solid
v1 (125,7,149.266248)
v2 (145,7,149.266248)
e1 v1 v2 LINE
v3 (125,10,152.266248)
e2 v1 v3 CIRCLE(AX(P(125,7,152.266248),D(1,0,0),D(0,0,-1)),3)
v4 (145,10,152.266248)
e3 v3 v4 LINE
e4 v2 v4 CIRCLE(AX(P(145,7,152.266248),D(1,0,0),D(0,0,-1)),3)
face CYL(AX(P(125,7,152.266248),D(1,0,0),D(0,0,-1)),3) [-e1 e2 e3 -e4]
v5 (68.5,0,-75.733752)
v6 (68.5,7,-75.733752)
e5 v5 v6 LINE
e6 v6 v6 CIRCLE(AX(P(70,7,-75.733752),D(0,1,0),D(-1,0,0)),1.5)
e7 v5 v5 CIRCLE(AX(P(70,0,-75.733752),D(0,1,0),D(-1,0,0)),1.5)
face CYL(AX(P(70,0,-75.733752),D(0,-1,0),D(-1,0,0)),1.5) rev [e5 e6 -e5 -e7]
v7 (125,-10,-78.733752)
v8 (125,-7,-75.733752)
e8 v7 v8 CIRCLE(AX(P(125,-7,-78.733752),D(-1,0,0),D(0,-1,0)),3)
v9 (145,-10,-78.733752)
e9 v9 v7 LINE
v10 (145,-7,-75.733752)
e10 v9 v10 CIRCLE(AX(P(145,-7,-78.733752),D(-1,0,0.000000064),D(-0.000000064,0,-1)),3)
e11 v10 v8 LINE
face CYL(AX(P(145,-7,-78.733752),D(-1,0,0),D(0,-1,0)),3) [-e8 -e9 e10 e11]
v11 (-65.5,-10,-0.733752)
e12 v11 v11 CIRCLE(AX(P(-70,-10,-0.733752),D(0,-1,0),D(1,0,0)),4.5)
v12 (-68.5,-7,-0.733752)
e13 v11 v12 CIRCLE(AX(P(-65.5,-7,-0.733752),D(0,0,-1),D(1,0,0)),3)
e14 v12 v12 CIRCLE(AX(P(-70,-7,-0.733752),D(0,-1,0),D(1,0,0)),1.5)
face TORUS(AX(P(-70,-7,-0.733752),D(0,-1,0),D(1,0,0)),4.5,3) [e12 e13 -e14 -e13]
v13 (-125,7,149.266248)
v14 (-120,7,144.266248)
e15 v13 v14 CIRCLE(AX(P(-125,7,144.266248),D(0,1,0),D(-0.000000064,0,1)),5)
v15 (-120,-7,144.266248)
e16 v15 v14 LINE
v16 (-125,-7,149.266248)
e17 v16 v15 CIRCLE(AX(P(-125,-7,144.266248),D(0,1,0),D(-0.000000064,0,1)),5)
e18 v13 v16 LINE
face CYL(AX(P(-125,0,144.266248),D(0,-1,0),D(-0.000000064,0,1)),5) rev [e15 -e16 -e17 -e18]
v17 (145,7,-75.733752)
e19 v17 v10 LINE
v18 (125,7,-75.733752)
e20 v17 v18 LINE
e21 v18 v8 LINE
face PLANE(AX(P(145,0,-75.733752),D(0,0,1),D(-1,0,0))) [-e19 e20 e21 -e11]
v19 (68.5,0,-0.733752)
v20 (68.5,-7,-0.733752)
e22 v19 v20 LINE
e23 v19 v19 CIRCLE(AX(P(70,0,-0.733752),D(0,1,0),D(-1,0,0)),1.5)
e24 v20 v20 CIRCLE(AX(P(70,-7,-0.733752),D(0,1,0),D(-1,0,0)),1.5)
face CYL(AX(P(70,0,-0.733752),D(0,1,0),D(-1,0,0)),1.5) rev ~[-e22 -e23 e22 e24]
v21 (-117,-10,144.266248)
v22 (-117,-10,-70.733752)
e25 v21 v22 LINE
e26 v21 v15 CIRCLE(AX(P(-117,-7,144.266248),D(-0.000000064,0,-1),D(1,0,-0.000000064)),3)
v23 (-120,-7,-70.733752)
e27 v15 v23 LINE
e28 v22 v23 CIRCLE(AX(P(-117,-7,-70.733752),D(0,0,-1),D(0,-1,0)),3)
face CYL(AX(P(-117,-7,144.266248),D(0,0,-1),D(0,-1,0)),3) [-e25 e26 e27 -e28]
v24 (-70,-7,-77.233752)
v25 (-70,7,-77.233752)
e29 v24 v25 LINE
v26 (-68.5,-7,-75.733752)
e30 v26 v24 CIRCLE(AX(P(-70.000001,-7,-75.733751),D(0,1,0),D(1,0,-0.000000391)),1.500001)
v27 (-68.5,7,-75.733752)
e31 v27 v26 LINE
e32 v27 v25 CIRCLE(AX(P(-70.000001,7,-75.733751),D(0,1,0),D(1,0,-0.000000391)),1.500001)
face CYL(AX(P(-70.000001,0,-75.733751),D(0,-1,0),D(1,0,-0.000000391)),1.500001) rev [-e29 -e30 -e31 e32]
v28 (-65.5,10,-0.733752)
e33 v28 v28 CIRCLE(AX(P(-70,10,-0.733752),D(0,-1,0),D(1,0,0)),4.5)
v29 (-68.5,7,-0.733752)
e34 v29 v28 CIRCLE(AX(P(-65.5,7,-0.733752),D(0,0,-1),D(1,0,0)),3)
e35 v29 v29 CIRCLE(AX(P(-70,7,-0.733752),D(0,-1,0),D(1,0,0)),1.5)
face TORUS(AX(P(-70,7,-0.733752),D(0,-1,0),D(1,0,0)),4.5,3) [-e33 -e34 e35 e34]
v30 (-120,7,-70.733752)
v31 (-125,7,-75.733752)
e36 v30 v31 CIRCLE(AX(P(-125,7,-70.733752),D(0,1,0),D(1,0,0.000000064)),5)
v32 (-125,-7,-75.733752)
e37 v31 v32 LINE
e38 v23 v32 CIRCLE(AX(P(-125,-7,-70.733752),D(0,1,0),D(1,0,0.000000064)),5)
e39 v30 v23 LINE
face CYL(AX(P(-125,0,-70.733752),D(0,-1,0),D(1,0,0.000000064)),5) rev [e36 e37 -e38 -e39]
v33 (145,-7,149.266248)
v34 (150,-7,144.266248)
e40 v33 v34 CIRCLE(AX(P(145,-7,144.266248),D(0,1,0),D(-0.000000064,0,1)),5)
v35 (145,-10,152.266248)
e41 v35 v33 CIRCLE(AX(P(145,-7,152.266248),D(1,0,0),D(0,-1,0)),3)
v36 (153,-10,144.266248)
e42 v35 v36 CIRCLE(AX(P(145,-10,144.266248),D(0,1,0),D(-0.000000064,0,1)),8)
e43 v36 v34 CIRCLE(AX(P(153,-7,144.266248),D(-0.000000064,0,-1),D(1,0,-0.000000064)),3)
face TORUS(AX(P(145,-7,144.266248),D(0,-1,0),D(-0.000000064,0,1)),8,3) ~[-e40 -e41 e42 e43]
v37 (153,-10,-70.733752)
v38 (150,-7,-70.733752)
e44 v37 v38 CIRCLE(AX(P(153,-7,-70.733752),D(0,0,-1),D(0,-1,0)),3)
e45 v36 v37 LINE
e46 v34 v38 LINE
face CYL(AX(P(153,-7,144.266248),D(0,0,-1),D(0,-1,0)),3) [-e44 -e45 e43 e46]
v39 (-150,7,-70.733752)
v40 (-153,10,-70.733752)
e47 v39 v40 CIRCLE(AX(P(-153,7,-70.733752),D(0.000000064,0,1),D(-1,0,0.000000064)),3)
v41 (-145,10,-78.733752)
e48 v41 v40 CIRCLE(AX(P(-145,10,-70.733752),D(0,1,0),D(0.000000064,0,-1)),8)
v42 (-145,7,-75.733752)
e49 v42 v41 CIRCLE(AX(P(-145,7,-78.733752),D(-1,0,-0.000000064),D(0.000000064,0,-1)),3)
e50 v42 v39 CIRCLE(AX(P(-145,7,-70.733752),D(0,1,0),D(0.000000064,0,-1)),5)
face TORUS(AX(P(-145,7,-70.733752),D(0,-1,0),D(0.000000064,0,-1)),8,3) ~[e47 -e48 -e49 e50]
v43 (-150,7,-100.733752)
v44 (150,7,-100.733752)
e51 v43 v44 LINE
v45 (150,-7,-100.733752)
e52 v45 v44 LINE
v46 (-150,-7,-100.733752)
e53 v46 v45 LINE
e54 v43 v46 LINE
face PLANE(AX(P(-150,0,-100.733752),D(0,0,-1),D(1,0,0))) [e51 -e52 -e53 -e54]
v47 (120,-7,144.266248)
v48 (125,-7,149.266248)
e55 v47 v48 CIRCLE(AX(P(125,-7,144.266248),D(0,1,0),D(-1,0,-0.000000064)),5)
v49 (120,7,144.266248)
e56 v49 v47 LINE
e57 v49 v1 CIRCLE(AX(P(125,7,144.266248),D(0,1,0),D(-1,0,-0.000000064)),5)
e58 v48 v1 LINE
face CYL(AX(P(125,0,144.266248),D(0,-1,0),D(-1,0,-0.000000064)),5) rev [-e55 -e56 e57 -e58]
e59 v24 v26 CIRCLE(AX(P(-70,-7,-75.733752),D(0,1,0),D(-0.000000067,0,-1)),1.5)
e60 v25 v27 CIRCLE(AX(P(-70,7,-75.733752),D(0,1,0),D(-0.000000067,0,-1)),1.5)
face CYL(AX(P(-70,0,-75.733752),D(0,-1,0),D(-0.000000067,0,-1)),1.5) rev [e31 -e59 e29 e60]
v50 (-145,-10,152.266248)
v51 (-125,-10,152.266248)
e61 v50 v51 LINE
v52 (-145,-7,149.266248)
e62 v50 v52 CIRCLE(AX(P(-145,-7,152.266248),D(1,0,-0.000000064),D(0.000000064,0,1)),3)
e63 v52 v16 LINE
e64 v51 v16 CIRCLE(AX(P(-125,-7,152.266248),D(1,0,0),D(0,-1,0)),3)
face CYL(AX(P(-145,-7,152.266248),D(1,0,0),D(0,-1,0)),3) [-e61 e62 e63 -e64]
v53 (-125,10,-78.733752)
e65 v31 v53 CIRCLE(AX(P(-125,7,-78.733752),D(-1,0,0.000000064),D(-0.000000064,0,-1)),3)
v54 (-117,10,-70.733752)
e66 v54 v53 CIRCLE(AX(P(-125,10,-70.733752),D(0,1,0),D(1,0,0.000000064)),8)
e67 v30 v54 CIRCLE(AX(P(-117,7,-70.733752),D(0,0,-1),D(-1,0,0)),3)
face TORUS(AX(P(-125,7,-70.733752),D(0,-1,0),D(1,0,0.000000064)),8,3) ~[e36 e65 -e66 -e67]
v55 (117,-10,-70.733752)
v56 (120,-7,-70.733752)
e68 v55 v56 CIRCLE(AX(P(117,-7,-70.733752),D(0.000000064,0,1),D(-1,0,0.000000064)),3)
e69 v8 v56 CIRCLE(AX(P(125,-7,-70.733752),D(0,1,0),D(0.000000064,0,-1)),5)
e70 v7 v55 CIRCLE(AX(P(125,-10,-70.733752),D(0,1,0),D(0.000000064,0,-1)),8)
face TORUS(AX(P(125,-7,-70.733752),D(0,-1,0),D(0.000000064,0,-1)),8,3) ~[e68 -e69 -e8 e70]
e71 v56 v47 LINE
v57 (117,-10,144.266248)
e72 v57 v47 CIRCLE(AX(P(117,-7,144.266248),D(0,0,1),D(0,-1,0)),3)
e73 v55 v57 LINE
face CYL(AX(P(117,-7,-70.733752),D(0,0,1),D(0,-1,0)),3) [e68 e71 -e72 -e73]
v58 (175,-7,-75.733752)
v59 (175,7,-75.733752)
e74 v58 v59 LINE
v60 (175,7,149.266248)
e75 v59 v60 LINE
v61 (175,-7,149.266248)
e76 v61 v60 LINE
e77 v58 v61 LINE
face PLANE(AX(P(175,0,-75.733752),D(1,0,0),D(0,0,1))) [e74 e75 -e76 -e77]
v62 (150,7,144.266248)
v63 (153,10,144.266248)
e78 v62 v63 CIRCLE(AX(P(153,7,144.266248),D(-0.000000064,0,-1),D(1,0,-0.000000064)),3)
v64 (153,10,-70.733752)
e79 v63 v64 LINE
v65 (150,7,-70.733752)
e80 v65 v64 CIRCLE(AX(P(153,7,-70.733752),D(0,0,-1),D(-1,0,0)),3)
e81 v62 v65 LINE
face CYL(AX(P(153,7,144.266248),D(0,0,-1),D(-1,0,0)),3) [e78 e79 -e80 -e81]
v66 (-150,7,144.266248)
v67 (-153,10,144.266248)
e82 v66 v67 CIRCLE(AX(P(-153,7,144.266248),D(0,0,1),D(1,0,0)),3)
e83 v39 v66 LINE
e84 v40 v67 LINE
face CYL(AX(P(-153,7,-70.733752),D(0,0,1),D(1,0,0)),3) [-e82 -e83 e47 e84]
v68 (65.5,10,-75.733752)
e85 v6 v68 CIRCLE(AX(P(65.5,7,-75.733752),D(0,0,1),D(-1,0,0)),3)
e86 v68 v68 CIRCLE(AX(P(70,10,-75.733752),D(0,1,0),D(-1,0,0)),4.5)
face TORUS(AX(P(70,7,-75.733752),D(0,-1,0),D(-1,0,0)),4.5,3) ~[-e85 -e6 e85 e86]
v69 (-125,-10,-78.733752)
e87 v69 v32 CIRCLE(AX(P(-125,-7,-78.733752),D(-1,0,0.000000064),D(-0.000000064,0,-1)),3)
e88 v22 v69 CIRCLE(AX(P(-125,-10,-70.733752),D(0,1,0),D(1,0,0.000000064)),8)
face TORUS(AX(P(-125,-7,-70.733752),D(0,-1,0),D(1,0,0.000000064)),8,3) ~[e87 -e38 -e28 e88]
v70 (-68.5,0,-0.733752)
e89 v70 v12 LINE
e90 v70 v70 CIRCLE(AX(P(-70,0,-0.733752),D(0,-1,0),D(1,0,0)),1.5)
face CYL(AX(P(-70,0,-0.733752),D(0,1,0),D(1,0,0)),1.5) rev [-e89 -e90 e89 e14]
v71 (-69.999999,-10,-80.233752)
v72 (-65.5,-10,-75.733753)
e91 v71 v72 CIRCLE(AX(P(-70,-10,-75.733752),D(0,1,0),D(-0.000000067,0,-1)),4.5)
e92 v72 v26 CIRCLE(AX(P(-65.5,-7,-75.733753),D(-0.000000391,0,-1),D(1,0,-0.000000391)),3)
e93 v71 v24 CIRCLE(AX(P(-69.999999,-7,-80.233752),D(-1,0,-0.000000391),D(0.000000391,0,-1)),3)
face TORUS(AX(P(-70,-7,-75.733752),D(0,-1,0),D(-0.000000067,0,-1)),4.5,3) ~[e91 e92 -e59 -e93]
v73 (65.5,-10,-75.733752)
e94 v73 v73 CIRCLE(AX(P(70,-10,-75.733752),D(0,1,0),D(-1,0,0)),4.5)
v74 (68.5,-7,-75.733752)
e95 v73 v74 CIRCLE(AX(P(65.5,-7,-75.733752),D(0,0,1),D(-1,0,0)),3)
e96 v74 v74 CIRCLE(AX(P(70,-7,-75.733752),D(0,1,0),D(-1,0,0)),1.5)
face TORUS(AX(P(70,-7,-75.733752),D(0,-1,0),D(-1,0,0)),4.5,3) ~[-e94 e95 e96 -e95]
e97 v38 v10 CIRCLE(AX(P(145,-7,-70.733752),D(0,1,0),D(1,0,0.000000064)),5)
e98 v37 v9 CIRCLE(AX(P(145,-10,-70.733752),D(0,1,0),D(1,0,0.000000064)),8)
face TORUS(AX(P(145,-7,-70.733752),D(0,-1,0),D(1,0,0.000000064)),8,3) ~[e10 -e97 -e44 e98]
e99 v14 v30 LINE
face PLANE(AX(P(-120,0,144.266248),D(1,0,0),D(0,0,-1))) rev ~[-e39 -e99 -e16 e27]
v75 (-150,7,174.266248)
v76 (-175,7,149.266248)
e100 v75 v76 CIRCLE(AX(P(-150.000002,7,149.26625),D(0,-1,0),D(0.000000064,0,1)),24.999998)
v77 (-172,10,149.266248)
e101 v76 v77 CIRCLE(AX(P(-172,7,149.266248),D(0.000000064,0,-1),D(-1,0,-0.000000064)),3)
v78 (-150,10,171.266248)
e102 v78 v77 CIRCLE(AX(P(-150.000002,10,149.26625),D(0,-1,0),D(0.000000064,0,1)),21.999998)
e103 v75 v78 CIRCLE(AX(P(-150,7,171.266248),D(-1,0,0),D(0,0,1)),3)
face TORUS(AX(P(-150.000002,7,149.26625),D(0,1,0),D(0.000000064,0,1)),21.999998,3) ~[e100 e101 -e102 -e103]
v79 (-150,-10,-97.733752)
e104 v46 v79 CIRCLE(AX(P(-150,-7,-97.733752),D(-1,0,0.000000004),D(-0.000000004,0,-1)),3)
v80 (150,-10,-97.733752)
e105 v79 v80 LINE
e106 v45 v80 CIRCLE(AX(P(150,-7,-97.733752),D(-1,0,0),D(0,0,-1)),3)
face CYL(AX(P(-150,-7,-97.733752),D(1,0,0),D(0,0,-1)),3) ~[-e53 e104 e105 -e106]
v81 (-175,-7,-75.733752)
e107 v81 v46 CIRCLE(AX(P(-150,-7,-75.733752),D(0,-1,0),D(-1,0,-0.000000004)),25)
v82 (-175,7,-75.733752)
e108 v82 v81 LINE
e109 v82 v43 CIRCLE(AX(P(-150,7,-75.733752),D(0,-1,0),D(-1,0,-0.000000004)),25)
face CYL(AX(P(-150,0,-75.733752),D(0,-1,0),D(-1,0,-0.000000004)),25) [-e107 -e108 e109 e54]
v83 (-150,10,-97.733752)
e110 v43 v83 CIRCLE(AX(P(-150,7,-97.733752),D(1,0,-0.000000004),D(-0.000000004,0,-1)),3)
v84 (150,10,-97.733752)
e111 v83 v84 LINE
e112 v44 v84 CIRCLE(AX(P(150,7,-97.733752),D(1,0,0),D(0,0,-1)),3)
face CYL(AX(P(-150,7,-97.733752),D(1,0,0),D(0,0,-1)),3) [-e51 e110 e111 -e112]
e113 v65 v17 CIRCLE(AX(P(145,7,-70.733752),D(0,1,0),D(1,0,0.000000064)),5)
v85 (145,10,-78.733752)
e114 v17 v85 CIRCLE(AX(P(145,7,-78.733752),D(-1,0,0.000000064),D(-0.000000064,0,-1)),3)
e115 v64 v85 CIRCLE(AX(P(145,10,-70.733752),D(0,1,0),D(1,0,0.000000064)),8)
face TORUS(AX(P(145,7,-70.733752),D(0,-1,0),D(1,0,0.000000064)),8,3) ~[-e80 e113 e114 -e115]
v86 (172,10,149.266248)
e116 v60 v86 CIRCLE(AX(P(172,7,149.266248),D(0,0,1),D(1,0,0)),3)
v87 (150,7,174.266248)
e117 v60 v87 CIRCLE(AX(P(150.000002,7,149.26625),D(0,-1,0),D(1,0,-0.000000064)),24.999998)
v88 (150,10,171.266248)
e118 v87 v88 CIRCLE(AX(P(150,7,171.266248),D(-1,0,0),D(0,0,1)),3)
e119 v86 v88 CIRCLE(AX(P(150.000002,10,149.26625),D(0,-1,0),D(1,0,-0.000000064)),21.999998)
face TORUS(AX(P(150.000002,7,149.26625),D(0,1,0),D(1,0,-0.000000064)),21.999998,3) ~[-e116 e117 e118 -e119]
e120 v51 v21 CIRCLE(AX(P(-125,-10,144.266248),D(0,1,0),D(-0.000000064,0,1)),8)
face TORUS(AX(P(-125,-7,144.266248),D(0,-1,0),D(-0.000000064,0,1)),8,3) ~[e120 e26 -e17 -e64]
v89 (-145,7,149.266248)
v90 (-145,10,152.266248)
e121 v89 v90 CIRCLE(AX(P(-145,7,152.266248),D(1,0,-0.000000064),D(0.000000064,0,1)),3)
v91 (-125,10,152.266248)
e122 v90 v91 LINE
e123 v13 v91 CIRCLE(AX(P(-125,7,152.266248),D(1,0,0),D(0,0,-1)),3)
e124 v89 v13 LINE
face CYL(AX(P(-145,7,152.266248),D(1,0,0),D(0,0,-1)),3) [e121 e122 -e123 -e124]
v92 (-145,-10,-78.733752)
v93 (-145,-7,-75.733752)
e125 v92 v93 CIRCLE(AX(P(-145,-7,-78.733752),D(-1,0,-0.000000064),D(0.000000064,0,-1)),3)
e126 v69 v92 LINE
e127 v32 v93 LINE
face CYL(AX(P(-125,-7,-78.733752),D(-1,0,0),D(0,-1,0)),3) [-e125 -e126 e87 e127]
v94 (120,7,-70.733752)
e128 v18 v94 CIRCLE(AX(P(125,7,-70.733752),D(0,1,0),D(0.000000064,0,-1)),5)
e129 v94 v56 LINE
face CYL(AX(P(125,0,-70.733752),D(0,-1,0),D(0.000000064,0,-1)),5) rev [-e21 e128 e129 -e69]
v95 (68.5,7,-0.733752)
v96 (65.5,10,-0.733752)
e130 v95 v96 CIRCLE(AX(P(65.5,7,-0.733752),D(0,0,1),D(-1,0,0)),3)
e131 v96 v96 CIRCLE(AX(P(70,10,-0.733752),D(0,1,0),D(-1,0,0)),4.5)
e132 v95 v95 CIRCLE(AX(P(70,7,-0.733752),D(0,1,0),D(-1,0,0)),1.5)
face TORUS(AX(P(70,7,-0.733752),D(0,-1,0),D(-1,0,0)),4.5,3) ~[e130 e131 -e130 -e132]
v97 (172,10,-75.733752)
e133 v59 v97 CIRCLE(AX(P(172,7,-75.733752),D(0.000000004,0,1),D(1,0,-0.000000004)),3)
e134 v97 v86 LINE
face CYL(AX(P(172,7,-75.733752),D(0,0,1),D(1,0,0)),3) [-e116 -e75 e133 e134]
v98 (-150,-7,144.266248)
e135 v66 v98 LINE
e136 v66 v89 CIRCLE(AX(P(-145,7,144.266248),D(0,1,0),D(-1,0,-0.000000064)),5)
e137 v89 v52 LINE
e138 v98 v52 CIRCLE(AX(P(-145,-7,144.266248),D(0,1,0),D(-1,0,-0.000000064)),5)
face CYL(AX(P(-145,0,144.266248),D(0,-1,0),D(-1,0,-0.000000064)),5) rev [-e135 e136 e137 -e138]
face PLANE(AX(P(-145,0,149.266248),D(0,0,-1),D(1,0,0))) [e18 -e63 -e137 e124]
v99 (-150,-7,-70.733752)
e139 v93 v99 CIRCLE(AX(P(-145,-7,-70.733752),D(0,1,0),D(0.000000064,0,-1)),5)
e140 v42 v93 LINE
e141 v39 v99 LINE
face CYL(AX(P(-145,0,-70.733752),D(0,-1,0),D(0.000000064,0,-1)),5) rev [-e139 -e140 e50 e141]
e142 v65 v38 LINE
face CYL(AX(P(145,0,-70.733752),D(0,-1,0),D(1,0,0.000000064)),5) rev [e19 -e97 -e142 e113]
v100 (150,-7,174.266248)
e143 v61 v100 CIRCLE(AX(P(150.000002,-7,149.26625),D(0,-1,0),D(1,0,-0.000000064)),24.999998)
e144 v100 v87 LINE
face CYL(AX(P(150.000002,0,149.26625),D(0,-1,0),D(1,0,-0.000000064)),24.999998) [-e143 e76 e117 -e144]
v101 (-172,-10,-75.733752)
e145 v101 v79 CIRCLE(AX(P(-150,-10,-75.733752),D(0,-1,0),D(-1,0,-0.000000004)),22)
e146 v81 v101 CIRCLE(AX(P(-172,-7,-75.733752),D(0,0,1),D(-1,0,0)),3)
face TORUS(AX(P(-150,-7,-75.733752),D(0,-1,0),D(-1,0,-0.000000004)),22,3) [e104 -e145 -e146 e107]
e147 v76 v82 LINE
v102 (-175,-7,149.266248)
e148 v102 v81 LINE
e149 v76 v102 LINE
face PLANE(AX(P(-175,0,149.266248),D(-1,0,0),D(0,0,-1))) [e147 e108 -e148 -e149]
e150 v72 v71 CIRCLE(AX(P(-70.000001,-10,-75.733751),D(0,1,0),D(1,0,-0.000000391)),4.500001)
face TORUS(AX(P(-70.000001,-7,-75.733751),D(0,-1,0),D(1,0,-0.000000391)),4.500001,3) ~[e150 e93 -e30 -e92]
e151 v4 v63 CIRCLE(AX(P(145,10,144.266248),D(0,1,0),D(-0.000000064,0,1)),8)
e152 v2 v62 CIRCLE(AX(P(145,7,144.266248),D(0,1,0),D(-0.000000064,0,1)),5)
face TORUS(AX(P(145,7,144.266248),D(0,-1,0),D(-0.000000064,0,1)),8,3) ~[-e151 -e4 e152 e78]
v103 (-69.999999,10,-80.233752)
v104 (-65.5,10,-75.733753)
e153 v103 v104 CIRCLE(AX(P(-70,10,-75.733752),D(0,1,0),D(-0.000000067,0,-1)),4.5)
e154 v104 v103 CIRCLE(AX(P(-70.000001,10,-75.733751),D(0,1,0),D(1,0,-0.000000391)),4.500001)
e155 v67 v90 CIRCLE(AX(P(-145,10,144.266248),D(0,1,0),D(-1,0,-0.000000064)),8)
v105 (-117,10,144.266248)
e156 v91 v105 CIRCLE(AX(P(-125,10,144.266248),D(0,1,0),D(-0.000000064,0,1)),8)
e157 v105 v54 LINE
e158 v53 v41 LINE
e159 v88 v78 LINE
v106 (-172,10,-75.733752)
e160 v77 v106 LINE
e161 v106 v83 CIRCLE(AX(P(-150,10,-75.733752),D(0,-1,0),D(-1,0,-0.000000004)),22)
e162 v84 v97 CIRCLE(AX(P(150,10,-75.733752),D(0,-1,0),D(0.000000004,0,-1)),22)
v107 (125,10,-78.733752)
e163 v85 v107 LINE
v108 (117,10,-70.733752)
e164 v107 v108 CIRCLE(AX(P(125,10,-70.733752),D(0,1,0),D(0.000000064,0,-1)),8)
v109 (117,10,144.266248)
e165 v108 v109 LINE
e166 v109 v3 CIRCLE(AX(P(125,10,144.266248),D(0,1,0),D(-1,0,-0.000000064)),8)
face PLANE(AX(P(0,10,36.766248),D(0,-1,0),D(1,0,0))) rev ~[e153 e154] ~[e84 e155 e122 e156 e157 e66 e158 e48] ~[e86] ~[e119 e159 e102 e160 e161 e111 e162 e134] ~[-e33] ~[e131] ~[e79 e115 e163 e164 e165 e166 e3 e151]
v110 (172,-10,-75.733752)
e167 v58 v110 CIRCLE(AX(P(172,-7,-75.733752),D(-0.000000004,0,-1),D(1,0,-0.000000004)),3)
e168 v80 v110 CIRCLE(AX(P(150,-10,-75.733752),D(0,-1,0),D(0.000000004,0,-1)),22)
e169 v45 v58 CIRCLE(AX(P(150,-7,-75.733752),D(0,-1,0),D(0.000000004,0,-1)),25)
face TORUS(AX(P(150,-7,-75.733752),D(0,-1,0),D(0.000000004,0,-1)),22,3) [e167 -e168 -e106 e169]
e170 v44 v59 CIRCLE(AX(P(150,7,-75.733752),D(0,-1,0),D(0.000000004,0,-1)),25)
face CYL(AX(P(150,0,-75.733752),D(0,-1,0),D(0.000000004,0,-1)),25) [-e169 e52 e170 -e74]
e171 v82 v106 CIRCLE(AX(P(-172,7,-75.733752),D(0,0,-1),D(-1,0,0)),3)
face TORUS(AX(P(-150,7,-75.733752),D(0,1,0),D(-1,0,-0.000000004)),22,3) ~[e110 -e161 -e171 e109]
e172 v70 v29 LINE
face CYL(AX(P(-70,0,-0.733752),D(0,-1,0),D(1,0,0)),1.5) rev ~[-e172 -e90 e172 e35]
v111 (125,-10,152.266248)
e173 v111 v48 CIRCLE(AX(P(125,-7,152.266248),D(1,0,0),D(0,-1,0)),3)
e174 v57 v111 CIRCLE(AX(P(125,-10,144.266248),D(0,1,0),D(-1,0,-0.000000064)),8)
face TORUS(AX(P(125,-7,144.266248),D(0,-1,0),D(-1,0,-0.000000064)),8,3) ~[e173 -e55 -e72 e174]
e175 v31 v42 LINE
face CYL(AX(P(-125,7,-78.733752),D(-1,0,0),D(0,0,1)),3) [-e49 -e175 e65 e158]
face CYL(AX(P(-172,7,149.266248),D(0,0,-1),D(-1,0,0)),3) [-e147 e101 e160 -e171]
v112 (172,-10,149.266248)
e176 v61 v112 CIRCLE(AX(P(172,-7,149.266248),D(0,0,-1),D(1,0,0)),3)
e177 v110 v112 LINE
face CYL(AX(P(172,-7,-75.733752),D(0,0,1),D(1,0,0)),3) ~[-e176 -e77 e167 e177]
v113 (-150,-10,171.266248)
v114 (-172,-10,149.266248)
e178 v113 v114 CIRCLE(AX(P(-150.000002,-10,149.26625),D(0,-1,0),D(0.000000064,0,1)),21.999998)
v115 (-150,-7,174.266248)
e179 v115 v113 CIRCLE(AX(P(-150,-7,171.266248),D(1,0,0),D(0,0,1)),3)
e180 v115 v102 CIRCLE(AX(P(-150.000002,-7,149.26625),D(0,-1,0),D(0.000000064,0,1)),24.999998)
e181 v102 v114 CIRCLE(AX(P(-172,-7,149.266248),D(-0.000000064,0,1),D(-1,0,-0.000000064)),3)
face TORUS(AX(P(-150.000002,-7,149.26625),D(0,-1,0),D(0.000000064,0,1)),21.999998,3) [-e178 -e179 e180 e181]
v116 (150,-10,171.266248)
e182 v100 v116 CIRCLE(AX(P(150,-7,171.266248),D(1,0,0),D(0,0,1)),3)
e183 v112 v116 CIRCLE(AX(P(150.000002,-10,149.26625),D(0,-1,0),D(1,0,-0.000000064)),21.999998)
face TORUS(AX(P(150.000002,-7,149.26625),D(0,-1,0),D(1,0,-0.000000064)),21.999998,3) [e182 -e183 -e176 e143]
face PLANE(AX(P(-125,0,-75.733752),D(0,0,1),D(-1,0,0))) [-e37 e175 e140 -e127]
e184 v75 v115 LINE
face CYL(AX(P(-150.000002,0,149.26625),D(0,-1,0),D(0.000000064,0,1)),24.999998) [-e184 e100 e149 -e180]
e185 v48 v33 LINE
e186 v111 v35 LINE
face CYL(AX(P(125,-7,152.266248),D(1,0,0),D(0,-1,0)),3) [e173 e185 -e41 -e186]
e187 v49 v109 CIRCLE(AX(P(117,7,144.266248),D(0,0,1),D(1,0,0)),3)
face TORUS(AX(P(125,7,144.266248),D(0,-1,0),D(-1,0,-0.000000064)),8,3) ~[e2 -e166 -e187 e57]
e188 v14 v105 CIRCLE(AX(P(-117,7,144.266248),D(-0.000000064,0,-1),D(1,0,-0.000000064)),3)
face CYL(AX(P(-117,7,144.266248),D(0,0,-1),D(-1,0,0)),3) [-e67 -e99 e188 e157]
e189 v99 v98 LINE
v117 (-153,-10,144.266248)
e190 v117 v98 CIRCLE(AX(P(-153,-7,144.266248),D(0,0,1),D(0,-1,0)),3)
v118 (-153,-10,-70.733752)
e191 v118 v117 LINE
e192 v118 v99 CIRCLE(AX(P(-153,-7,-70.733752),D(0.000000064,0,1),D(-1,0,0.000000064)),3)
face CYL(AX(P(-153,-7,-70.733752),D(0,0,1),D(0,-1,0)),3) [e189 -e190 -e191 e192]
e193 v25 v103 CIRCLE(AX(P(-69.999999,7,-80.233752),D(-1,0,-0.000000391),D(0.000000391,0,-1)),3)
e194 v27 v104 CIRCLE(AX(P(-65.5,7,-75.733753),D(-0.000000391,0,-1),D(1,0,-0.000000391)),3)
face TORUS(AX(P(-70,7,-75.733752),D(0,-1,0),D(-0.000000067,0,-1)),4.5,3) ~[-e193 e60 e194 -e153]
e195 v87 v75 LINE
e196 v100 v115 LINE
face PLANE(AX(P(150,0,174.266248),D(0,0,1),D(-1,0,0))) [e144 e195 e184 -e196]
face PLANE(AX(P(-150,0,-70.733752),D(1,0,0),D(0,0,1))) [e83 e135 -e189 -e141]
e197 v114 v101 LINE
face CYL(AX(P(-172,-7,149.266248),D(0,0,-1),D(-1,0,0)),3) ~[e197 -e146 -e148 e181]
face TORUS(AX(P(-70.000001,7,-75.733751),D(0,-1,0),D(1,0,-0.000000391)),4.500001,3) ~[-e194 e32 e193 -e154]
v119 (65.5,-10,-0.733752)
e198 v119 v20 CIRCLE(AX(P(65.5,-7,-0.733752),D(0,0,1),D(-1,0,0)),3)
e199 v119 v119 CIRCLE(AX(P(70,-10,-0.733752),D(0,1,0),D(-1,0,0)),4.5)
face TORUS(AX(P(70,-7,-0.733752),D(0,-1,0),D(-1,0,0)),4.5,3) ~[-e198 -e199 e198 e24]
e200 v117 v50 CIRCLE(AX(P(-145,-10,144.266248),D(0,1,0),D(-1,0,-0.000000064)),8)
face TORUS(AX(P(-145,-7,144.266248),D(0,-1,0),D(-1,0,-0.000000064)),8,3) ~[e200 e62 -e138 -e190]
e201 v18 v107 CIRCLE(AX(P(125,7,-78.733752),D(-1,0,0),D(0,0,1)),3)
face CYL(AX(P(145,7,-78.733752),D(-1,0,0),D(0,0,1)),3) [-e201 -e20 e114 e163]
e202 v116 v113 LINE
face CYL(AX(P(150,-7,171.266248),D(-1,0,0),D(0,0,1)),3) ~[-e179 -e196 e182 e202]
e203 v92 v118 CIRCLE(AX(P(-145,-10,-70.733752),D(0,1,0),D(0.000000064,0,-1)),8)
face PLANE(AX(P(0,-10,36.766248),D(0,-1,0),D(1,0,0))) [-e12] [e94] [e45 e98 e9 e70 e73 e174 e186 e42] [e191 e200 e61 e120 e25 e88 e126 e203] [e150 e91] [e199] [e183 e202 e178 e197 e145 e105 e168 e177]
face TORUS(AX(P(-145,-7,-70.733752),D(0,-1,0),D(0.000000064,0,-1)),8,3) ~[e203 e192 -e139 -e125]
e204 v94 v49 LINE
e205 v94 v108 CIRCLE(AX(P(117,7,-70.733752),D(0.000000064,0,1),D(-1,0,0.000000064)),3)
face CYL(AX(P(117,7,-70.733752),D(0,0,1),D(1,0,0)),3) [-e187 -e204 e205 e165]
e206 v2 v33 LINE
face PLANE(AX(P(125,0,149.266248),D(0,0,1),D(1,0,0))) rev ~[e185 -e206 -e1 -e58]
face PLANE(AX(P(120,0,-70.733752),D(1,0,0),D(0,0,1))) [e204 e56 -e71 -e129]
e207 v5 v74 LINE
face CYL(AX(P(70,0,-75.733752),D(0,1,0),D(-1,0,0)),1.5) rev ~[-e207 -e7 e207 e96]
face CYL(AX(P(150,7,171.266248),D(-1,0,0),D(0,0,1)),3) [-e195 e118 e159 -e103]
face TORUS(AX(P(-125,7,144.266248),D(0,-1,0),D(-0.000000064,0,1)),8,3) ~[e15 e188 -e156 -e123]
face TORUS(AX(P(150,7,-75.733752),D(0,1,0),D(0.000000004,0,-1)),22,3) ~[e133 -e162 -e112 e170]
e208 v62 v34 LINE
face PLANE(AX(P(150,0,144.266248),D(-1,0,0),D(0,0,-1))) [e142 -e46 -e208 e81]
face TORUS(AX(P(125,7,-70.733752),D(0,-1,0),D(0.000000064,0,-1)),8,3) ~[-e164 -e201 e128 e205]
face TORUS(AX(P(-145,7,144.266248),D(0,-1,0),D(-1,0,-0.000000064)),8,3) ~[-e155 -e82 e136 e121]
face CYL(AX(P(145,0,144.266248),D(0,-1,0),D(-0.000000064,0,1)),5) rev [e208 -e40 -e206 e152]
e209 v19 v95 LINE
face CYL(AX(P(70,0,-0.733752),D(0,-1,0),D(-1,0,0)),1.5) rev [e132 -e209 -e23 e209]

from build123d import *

# Parameters (mm, degrees)
F0_R     = 1.5
F1_DEPTH = 10
F2_R     = 3


with BuildPart() as f1:
    # F0 (on Front) → F1 (new body, symmetric)
    with BuildSketch(Plane.XZ):
        with BuildLine():
            Line((150, 174.266248), (0, 174.266248))
            Line((0, 174.266248), (-150, 174.266248))
            ThreePointArc((-150, 174.266248), (-167.67767, 166.943918), (-175, 149.266248))
            Line((-175, 149.266248), (-175, 24.266248))
            Line((-175, 24.266248), (-175, -75.733752))
            ThreePointArc((-175, -75.733752), (-167.67767, -93.411421), (-150, -100.733752))
            Line((-150, -100.733752), (-70, -100.733752))
            Line((-70, -100.733752), (0, -100.733752))
            Line((0, -100.733752), (150, -100.733752))
            ThreePointArc((150, -100.733752), (167.67767, -93.411421), (175, -75.733752))
            Line((175, -75.733752), (175, 24.266248))
            Line((175, 24.266248), (175, 149.266248))
            ThreePointArc((175, 149.266248), (167.67767, 166.943918), (150, 174.266248))
        make_face()
        with BuildLine():
            ThreePointArc((-68.5, -75.733752), (-68.93934, -76.794412), (-70, -77.233752))
            ThreePointArc((-70, -77.233752), (-71.06066, -74.673092), (-68.5, -75.733752))
        make_face(mode=Mode.SUBTRACT)
        with BuildLine():
            ThreePointArc((-150, 144.266248), (-148.535534, 147.801782), (-145, 149.266248))
            Line((-145, 149.266248), (-125, 149.266248))
            ThreePointArc((-125, 149.266248), (-121.464466, 147.801782), (-120, 144.266248))
            Line((-120, 144.266248), (-120, -70.733752))
            ThreePointArc((-120, -70.733752), (-121.464466, -74.269286), (-125, -75.733752))
            Line((-125, -75.733752), (-145, -75.733752))
            ThreePointArc((-145, -75.733752), (-148.535534, -74.269286), (-150, -70.733752))
            Line((-150, -70.733752), (-150, 144.266248))
        make_face(mode=Mode.SUBTRACT)
        with Locations((-70, -0.733752)):
            Circle(F0_R, mode=Mode.SUBTRACT)
        with BuildLine():
            ThreePointArc((71.5, -75.733752), (70, -77.233752), (68.5, -75.733752))
            ThreePointArc((68.5, -75.733752), (70, -74.233752), (71.5, -75.733752))
        make_face(mode=Mode.SUBTRACT)
        with BuildLine():
            ThreePointArc((71.5, -0.733752), (70, -2.233752), (68.5, -0.733752))
            ThreePointArc((68.5, -0.733752), (70, 0.766248), (71.5, -0.733752))
        make_face(mode=Mode.SUBTRACT)
        with BuildLine():
            Line((125, 149.266248), (145, 149.266248))
            ThreePointArc((145, 149.266248), (148.535534, 147.801782), (150, 144.266248))
            Line((150, 144.266248), (150, -70.733752))
            ThreePointArc((150, -70.733752), (148.535534, -74.269286), (145, -75.733752))
            Line((145, -75.733752), (125, -75.733752))
            ThreePointArc((125, -75.733752), (121.464466, -74.269286), (120, -70.733752))
            Line((120, -70.733752), (120, 144.266248))
            ThreePointArc((120, 144.266248), (121.464466, 147.801782), (125, 149.266248))
        make_face(mode=Mode.SUBTRACT)
    extrude(amount=F1_DEPTH, both=True)

    # F2
    f2_edges = [f1.edges().sort_by_distance(p)[0] for p in [
        (0, 10, 174.266248),
        (-167.67767, 10, 166.943918),
        (-175, 10, 36.766248),
        (-167.67767, 10, -93.411421),
        (0, 10, -100.733752),
        (167.67767, 10, -93.411421),
        (175, 10, 36.766248),
        (167.67767, 10, 166.943918),
        (-68.93934, 10, -76.794412),
        (-71.06066, 10, -74.673092),
        (-148.535534, 10, -74.269286),
        (-150, 10, 36.766248),
        (-148.535534, 10, 147.801782),
        (-135, 10, 149.266248),
        (-121.464466, 10, 147.801782),
        (-120, 10, 36.766248),
        (-121.464466, 10, -74.269286),
        (-135, 10, -75.733752),
        (-71.5, 10, -0.733752),
        (71.5, 10, -75.733752),
        (71.5, 10, -0.733752),
        (135, 10, 149.266248),
        (148.535534, 10, 147.801782),
        (150, 10, 36.766248),
        (148.535534, 10, -74.269286),
        (135, 10, -75.733752),
        (121.464466, 10, -74.269286),
        (120, 10, 36.766248),
        (121.464466, 10, 147.801782),
        (0, -10, 174.266248),
        (-167.67767, -10, 166.943918),
        (-175, -10, 36.766248),
        (-167.67767, -10, -93.411421),
        (0, -10, -100.733752),
        (167.67767, -10, -93.411421),
        (175, -10, 36.766248),
        (167.67767, -10, 166.943918),
        (-68.93934, -10, -76.794412),
        (-71.06066, -10, -74.673092),
        (-148.535534, -10, -74.269286),
        (-150, -10, 36.766248),
        (-148.535534, -10, 147.801782),
        (-135, -10, 149.266248),
        (-121.464466, -10, 147.801782),
        (-120, -10, 36.766248),
        (-121.464466, -10, -74.269286),
        (-135, -10, -75.733752),
        (-71.5, -10, -0.733752),
        (71.5, -10, -75.733752),
        (71.5, -10, -0.733752),
        (135, -10, 149.266248),
        (148.535534, -10, 147.801782),
        (150, -10, 36.766248),
        (148.535534, -10, -74.269286),
        (135, -10, -75.733752),
        (121.464466, -10, -74.269286),
        (120, -10, 36.766248),
        (121.464466, -10, 147.801782),
    ]]
    fillet(f2_edges, radius=F2_R)


solid = f1.part
